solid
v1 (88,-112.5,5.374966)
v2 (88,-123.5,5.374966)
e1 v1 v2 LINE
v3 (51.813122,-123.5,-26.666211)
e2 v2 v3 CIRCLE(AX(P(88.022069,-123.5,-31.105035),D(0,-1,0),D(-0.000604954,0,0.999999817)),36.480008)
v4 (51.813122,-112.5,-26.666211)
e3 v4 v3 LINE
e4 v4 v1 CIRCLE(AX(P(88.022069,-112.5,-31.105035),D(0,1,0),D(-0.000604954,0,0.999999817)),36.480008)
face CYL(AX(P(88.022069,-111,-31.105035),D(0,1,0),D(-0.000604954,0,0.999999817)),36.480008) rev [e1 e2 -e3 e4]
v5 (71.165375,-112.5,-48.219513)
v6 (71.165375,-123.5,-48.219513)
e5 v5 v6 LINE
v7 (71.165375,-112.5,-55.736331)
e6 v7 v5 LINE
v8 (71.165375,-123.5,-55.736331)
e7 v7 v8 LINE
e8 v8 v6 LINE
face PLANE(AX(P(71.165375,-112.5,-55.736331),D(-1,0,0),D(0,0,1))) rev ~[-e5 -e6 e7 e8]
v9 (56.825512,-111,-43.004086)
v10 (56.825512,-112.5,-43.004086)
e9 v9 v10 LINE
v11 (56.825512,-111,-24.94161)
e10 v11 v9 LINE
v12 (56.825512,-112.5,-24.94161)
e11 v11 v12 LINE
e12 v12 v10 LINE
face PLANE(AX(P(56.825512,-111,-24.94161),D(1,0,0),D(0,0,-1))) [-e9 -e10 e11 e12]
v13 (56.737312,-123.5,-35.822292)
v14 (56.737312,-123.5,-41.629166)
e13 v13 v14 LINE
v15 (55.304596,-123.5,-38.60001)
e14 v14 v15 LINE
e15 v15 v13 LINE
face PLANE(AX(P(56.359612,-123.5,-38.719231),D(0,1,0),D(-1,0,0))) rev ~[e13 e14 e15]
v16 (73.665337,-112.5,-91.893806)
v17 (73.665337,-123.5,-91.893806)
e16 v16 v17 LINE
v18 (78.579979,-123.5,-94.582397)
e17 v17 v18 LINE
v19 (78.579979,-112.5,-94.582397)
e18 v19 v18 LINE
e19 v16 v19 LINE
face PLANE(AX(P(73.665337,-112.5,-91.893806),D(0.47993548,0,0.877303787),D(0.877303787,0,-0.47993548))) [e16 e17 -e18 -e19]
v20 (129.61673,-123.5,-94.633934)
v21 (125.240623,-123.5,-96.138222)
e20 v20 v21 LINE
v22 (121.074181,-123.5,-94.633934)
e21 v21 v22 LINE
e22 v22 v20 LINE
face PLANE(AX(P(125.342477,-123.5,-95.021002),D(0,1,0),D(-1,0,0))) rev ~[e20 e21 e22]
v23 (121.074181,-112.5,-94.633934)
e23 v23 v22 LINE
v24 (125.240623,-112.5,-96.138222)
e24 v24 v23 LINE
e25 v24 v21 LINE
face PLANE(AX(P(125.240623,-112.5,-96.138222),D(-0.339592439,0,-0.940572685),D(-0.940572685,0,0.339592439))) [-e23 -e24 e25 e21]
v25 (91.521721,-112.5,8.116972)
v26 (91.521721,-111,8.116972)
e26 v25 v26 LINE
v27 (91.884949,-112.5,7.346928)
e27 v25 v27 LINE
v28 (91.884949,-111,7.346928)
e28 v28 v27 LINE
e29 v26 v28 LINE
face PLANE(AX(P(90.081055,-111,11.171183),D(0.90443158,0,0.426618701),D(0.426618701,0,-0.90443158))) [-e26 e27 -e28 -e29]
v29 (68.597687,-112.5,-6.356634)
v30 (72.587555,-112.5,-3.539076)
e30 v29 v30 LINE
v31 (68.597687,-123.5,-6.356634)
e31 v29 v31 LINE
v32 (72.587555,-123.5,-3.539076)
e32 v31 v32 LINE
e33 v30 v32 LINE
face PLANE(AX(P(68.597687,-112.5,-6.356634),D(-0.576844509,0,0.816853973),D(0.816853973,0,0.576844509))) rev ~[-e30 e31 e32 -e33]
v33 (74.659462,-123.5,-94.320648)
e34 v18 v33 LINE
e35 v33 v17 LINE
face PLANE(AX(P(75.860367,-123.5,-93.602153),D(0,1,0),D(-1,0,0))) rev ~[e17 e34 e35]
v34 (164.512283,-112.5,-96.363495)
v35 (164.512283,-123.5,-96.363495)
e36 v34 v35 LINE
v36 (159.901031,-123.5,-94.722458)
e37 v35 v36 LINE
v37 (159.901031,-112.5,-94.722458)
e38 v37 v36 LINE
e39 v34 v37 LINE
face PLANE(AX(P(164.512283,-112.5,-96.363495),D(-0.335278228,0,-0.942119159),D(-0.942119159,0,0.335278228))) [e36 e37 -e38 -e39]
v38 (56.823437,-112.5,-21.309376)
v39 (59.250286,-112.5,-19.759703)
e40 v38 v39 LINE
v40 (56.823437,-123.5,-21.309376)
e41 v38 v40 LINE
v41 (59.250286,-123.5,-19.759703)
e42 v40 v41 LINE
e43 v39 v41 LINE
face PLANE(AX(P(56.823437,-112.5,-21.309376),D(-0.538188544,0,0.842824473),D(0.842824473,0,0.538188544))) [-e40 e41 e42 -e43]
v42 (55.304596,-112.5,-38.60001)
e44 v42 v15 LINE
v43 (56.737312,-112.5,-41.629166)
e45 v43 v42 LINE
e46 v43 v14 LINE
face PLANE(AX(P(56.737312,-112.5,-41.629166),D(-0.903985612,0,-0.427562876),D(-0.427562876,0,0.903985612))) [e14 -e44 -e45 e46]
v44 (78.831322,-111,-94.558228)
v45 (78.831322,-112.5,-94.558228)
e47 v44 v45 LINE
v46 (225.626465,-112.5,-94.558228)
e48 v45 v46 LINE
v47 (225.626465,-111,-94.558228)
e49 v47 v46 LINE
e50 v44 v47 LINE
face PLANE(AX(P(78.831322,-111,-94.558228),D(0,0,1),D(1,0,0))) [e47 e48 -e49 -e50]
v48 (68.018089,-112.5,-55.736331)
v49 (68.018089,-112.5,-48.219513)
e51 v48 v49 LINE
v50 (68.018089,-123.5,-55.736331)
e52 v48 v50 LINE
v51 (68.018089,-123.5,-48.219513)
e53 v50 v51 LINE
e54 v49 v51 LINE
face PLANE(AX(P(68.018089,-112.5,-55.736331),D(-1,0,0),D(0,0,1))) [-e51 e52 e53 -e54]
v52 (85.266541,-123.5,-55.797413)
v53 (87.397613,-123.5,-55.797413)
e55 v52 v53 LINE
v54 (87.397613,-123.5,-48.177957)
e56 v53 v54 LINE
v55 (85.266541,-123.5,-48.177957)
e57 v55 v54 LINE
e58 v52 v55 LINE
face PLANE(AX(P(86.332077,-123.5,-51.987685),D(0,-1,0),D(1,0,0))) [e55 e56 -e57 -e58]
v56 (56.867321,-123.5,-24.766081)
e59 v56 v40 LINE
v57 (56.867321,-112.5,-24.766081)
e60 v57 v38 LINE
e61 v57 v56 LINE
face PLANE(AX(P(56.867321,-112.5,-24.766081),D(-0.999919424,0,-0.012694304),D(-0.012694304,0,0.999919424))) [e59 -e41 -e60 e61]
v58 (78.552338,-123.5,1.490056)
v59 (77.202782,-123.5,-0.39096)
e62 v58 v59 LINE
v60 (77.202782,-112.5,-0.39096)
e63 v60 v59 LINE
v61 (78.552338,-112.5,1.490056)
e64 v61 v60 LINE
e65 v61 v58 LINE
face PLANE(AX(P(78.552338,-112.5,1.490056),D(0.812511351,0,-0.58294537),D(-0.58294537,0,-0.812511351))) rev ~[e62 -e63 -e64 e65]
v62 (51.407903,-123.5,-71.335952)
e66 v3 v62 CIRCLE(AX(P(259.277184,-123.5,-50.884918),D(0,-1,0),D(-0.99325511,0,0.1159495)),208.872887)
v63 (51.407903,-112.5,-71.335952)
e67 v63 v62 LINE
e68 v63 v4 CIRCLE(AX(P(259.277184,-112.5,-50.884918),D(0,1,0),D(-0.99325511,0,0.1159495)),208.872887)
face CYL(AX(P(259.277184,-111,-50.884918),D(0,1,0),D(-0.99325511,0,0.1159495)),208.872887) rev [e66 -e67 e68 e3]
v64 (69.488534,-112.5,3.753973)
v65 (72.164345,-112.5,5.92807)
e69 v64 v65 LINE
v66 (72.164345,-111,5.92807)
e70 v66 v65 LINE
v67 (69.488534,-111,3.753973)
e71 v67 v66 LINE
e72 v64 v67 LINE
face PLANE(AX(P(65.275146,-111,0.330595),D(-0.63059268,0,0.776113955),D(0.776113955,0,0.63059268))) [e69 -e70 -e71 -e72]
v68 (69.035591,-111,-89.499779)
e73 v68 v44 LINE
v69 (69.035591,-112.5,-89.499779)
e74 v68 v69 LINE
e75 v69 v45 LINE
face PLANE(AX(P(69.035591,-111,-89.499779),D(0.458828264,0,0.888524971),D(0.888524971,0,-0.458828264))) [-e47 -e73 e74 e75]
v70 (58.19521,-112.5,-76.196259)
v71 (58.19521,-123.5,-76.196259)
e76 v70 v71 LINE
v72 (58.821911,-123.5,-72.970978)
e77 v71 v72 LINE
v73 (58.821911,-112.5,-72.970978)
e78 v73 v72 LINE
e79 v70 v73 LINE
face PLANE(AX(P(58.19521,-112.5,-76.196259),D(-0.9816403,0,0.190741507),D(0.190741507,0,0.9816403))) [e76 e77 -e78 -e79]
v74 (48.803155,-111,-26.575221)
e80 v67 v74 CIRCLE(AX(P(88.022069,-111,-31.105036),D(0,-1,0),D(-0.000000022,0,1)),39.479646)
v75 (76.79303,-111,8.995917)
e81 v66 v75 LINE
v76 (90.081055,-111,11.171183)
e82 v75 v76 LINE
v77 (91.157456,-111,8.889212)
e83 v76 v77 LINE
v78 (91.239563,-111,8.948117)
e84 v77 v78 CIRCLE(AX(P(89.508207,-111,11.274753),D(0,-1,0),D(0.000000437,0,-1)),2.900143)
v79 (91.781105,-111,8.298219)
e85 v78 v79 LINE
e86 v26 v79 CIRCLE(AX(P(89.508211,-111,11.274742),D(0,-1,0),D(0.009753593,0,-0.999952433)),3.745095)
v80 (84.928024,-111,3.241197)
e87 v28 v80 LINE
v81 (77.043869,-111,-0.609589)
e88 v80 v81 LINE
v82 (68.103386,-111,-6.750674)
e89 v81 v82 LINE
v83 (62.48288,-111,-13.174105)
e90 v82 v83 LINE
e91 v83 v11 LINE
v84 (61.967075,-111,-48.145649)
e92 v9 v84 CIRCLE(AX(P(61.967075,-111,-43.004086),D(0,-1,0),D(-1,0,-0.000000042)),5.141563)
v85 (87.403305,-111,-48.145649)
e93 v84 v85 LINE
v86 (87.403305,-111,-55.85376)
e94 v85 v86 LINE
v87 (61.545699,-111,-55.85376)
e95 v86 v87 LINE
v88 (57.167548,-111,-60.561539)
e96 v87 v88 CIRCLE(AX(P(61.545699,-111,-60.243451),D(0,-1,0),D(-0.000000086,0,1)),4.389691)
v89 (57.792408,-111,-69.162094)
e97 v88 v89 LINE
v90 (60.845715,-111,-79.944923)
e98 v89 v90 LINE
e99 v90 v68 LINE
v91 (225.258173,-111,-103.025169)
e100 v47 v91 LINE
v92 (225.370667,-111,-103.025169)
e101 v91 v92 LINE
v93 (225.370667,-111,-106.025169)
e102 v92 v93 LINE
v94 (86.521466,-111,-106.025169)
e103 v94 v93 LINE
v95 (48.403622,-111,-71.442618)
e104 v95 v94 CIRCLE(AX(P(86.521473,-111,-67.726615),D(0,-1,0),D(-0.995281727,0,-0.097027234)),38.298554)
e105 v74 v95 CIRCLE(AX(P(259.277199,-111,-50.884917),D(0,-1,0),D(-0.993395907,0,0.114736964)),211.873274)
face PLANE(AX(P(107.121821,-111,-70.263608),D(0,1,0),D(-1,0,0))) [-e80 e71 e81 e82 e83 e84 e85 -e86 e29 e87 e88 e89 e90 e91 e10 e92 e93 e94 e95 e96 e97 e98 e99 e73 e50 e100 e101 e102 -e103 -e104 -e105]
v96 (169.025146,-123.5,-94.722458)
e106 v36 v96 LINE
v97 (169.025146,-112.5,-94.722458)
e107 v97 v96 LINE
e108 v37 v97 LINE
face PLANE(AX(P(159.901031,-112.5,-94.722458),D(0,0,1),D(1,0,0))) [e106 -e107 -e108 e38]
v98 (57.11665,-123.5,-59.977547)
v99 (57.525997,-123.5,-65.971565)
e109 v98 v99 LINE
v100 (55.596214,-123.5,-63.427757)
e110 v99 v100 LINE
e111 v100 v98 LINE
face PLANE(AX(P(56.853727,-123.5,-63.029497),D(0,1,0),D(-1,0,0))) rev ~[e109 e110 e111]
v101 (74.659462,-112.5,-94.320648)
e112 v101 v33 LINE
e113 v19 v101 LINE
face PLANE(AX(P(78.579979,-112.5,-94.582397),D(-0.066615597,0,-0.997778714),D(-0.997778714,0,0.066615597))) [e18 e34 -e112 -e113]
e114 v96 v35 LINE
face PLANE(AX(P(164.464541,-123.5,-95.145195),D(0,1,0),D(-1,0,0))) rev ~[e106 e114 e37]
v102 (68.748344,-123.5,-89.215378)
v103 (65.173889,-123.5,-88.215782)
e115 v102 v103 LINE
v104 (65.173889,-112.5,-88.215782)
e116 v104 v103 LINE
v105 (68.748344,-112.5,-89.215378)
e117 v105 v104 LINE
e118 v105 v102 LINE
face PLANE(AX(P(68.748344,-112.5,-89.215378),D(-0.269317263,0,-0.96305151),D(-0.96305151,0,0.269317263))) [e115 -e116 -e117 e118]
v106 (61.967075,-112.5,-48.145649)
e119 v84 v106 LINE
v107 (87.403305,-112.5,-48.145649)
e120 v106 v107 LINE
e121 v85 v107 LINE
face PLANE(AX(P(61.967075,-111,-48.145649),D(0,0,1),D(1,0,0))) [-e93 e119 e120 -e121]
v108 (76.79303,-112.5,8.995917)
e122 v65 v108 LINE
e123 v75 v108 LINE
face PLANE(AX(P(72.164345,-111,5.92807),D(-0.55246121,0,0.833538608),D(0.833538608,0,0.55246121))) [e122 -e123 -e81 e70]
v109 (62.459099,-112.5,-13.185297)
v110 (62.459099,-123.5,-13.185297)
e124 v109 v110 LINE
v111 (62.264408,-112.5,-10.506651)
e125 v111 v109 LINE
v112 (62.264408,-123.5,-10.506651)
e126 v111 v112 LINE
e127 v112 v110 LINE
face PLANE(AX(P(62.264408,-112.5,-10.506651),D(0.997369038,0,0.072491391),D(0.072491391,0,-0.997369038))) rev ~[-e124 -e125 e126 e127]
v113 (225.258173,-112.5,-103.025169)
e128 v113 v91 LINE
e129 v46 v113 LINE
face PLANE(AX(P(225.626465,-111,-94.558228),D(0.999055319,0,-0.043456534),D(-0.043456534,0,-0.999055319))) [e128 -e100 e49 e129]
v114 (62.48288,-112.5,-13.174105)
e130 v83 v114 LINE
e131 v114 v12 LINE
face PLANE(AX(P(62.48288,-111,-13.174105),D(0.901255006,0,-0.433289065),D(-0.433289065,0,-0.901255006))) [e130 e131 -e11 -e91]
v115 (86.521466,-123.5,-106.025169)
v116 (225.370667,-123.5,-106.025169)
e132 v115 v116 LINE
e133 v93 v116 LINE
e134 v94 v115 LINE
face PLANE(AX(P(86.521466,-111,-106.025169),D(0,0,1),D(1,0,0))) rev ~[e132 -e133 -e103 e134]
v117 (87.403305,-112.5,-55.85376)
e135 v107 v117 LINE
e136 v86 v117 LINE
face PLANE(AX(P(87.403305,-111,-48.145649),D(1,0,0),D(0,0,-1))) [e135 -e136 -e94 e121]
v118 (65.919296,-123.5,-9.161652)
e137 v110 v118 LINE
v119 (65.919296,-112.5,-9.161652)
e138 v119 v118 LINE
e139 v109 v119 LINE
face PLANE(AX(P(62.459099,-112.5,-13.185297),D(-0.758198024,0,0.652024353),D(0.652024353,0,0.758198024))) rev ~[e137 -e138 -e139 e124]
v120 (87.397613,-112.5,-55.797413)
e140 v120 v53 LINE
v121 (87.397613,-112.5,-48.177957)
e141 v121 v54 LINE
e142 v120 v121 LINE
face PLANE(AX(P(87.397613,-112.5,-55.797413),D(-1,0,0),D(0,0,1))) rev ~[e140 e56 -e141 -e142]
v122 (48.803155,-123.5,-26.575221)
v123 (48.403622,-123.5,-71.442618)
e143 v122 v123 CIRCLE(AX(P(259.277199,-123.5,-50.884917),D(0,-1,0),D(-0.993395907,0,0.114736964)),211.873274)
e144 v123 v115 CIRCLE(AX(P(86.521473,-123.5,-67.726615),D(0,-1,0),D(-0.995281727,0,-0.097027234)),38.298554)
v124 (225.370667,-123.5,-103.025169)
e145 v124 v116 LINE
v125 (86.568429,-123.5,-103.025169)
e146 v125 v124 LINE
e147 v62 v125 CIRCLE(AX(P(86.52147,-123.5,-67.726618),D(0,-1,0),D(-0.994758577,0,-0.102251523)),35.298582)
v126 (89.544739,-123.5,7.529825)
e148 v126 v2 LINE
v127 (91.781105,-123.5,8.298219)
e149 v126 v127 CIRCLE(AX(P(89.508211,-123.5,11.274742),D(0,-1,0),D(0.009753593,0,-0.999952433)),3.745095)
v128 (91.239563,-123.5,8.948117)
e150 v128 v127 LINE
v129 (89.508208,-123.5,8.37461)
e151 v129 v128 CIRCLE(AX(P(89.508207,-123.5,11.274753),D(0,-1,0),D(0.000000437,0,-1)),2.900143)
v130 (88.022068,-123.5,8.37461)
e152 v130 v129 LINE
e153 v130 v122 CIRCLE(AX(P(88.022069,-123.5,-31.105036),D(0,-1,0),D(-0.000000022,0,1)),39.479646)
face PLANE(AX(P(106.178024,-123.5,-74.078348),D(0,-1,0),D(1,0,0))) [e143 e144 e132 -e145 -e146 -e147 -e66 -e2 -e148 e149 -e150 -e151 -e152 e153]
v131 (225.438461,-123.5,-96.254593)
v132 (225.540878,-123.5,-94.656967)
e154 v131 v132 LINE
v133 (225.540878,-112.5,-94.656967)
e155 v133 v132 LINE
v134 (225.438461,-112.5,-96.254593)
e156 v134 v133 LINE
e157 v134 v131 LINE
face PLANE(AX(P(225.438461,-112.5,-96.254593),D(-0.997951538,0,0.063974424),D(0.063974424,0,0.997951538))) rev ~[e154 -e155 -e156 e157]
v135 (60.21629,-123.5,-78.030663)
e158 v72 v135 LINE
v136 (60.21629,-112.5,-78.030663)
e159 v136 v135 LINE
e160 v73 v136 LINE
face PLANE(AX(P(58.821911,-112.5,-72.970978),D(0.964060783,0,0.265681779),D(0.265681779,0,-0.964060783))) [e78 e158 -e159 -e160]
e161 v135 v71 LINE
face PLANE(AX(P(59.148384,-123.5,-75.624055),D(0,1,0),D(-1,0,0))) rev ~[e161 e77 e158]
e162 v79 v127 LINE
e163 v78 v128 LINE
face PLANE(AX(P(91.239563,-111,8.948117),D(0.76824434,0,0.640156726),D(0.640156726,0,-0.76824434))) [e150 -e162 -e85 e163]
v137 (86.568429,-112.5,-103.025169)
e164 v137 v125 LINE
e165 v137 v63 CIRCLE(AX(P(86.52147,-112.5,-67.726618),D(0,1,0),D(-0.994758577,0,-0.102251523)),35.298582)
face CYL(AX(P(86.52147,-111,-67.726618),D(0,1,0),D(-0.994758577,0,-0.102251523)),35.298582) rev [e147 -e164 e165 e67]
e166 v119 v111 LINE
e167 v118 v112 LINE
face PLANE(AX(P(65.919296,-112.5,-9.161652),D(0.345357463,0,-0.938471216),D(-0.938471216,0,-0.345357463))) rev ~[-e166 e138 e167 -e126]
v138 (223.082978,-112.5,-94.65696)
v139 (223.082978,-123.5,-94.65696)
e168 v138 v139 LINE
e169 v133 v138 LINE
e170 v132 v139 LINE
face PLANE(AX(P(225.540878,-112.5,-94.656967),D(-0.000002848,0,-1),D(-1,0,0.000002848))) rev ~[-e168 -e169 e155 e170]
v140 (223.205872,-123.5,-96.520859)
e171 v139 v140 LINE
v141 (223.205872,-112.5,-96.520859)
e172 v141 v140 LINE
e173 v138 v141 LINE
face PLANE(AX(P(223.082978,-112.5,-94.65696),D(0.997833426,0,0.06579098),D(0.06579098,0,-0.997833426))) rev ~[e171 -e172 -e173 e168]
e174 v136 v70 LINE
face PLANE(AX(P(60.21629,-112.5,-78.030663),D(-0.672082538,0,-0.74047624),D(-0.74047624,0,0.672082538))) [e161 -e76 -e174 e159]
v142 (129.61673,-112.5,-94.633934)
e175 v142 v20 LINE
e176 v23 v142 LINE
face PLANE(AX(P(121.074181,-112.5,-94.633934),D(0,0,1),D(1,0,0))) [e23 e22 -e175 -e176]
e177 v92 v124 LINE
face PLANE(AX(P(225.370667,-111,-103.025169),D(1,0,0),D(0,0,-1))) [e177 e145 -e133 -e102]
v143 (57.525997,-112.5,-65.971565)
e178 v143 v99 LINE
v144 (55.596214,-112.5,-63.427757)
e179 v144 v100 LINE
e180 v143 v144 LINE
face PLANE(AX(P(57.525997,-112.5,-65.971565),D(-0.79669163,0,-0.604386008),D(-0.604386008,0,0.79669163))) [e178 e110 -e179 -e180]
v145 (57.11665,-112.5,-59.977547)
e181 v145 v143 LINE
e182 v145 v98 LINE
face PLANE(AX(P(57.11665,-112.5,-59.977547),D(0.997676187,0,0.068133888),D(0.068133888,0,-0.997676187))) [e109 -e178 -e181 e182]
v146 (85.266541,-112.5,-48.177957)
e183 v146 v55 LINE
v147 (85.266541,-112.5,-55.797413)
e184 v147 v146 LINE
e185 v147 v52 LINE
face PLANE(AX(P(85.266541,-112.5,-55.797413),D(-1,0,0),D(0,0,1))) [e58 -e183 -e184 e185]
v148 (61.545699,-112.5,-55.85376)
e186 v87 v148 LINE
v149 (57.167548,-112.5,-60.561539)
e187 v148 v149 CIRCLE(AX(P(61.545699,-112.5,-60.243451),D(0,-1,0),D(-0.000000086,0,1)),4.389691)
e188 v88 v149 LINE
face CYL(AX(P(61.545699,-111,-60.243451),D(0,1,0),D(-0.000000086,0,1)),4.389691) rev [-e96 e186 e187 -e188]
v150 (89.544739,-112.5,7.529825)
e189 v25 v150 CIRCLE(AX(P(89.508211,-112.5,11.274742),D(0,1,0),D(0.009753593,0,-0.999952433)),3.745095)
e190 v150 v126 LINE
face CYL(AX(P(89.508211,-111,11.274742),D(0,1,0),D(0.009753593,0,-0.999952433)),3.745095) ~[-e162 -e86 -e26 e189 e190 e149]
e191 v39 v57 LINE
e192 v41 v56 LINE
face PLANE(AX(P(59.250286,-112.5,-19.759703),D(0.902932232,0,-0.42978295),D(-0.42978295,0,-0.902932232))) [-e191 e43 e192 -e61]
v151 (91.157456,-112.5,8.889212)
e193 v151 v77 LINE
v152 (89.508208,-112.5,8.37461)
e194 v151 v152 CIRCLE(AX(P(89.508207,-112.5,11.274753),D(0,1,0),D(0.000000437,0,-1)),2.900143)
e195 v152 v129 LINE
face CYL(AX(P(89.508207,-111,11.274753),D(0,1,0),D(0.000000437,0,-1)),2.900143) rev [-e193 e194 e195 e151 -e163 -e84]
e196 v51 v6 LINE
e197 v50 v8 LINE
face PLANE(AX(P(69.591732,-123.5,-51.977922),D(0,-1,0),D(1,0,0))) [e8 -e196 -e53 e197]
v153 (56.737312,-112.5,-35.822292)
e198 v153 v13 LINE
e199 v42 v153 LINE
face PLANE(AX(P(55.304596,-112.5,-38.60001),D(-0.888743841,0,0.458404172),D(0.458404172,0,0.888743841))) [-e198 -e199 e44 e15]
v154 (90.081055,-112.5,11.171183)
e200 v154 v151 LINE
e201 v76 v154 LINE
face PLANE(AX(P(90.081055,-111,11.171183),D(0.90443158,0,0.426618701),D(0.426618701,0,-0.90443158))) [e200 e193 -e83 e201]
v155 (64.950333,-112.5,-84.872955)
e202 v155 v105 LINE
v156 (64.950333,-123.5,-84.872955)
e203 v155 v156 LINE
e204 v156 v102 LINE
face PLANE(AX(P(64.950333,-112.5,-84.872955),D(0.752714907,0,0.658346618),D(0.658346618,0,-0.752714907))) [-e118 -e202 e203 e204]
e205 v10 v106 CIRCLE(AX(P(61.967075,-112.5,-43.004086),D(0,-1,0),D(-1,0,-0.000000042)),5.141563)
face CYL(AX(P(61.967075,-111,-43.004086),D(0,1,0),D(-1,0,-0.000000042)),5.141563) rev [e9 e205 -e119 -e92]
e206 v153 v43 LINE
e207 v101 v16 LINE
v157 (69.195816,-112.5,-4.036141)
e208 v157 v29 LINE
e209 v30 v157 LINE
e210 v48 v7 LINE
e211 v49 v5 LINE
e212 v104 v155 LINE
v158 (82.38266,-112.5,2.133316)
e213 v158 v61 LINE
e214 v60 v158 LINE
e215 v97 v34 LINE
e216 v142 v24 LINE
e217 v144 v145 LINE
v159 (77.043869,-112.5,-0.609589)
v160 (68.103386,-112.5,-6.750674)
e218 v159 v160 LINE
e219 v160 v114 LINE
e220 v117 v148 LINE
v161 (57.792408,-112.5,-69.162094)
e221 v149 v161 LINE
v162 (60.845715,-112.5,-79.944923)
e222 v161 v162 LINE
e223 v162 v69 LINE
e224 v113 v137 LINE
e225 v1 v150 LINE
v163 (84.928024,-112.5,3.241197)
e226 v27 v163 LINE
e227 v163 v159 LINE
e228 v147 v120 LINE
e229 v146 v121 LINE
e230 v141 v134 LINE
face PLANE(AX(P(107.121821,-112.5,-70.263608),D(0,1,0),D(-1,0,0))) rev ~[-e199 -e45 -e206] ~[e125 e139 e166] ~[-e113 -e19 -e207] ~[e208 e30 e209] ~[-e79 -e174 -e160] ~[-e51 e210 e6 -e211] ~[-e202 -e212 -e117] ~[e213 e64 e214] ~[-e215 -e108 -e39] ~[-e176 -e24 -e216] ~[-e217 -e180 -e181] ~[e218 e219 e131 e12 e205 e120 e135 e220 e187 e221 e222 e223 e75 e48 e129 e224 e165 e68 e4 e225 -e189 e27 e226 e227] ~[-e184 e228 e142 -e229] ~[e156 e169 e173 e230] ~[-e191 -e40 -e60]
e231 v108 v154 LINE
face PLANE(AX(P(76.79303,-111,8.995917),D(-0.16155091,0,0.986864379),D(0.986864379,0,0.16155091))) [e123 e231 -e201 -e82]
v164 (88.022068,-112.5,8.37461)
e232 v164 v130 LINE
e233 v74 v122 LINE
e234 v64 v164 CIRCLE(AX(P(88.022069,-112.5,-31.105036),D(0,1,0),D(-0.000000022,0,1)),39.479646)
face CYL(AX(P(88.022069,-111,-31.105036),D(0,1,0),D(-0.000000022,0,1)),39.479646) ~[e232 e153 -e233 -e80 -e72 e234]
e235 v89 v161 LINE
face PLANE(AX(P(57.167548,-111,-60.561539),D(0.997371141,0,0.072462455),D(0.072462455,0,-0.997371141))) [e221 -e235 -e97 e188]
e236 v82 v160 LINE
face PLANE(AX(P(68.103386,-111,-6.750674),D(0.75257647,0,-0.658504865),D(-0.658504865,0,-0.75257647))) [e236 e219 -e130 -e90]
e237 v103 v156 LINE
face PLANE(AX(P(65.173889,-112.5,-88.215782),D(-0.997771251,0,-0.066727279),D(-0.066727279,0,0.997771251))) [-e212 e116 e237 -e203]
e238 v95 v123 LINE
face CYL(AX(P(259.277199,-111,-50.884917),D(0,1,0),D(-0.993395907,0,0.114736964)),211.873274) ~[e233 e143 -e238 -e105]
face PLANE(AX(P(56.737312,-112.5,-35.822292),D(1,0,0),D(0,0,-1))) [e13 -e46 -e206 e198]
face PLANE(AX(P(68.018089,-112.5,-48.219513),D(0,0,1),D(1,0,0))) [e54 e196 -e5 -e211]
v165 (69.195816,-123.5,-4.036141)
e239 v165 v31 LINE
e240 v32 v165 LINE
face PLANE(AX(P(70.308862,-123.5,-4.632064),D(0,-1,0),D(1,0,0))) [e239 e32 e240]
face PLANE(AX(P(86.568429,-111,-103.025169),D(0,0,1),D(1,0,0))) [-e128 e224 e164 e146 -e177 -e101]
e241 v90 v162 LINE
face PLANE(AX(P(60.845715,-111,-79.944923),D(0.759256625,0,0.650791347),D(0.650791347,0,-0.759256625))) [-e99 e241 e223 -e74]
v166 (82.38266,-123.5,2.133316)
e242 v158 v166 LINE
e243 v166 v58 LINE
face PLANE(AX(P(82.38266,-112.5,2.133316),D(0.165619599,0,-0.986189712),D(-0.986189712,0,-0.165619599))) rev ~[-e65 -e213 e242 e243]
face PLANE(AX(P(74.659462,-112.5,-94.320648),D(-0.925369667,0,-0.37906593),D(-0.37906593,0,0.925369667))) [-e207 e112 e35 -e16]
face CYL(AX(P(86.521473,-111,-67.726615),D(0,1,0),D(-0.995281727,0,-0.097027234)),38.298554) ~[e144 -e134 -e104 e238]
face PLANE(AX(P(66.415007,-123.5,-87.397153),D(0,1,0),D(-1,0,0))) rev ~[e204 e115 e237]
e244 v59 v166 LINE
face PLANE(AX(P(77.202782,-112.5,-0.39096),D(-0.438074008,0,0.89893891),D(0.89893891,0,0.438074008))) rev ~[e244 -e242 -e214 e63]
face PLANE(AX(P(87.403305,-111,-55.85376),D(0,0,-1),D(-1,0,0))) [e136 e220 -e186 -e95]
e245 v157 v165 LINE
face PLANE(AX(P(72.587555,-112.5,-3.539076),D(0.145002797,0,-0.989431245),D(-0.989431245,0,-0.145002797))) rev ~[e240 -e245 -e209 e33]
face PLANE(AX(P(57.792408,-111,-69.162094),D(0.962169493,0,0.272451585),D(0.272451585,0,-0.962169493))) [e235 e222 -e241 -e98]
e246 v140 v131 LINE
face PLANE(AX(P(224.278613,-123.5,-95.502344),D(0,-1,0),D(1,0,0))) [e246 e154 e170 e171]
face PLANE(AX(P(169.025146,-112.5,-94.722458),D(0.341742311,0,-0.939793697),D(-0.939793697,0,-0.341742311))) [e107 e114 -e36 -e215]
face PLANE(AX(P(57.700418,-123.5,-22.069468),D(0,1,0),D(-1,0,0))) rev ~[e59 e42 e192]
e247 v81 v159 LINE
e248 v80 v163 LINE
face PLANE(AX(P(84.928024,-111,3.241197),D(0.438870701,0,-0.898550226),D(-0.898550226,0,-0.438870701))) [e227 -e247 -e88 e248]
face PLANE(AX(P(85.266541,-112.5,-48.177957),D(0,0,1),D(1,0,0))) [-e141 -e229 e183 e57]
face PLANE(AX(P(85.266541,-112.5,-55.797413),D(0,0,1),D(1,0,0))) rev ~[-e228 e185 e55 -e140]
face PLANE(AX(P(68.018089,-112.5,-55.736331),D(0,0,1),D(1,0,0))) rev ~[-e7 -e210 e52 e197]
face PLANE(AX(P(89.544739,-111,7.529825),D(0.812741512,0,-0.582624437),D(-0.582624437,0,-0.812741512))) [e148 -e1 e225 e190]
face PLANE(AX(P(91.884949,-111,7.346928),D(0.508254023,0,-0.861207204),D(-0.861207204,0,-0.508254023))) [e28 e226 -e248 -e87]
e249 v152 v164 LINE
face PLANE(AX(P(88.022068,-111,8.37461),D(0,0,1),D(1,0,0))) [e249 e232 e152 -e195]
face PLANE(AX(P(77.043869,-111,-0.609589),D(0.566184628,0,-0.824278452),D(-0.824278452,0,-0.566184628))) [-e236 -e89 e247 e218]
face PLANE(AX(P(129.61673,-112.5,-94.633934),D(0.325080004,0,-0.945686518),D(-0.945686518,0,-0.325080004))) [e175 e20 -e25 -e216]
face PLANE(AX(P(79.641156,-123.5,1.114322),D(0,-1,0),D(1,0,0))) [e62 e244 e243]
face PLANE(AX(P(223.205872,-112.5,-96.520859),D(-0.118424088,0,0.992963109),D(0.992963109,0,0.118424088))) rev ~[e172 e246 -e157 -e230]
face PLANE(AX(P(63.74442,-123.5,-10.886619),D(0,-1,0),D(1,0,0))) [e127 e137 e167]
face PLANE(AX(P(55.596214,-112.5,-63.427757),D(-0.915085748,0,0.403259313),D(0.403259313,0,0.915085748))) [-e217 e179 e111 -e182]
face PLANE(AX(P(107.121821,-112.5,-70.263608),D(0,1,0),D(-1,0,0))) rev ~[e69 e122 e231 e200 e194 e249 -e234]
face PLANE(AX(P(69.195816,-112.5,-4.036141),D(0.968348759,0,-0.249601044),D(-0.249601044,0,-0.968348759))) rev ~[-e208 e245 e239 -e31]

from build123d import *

# Parameters (mm, degrees)
PAD356_DEPTH  = 12.5
PAD357_DEPTH  = 1.5
SKETCH835_W   = 2.131072
SKETCH835_H   = 7.619457
SKETCH835_W_2 = 3.147286
SKETCH835_H_2 = 7.516819
PAD359_DEPTH  = 11


with BuildPart() as part:
    # Sketch830 → Pad356 (new body)
    with BuildSketch(Plane.XZ):
        with BuildLine():
            Line((-1.478534, -110.025169), (137.370667, -110.025169))
            Line((137.370667, -107.025169), (137.370667, -110.025169))
            Line((-1.431571, -107.025169), (137.370667, -107.025169))
            ThreePointArc((-36.592097, -75.335952), (-25.110465, -97.94725), (-1.431571, -107.025169))
            ThreePointArc((-36.186878, -30.666211), (-37.587109, -52.990217), (-36.592097, -75.335952))
            ThreePointArc((0, 1.374966), (-24.161208, -7.792765), (-36.186878, -30.666211))
            Line((1.544739, 3.529825), (0, 1.374966))
            ThreePointArc((1.544739, 3.529825), (2.72516, 3.732882), (3.781105, 4.298219))
            Line((3.239563, 4.948117), (3.781105, 4.298219))
            ThreePointArc((1.508208, 4.37461), (2.420143, 4.521718), (3.239563, 4.948117))
            Line((0.022068, 4.37461), (1.508208, 4.37461))
            ThreePointArc((0.022068, 4.37461), (-26.243945, -5.630658), (-39.196845, -30.575221))
            ThreePointArc((-39.196845, -30.575221), (-40.587676, -52.998313), (-39.596378, -75.442618))
            ThreePointArc((-39.596378, -75.442618), (-27.212376, -100.091175), (-1.478534, -110.025169))
        make_face()
    extrude(amount=PAD356_DEPTH)

    # Sketch831 → Pad357 (join)
    with BuildSketch(Plane.XZ):
        with BuildLine():
            Line((-11.20697, 4.995917), (2.081055, 7.171183))
            Line((2.081055, 7.171183), (3.884949, 3.346928))
            Line((3.884949, 3.346928), (-3.071976, -0.758803))
            Line((-3.071976, -0.758803), (-10.956131, -4.609589))
            Line((-10.956131, -4.609589), (-19.896614, -10.750674))
            Line((-19.896614, -10.750674), (-25.51712, -17.174105))
            Line((-25.51712, -17.174105), (-31.174488, -28.94161))
            Line((-31.174488, -28.94161), (-31.174488, -40.845127))
            Line((-31.174488, -40.845127), (-31.174488, -47.004086))
            ThreePointArc((-31.174488, -47.004086), (-29.668559, -50.63972), (-26.032925, -52.145649))
            Line((-26.032925, -52.145649), (-0.596695, -52.145649))
            Line((-0.596695, -52.145649), (-0.596695, -59.85376))
            Line((-0.596695, -59.85376), (-26.454301, -59.85376))
            ThreePointArc((-26.454301, -59.85376), (-29.668775, -61.254046), (-30.832452, -64.561539))
            Line((-30.832452, -64.561539), (-30.207592, -73.162094))
            Line((-30.207592, -73.162094), (-27.154285, -83.944923))
            Line((-27.154285, -83.944923), (-18.964409, -93.499779))
            Line((-18.964409, -93.499779), (-9.168678, -98.558228))
            Line((-9.168678, -98.558228), (-2.331345, -98.558228))
            Line((-2.331345, -98.558228), (137.626465, -98.558228))
            Line((137.626465, -98.558228), (137.14772, -109.564461))
            Line((137.14772, -109.564461), (2.745987, -109.564461))
            Line((2.745987, -109.564461), (-3.35627, -109.564461))
            Line((-3.35627, -109.564461), (-8.527748, -108.903885))
            Line((-8.527748, -108.903885), (-14.660988, -106.811363))
            Line((-14.660988, -106.811363), (-18.737785, -105.296097))
            Line((-18.737785, -105.296097), (-23.031059, -102.842796))
            Line((-23.031059, -102.842796), (-25.966358, -100.308403))
            Line((-25.966358, -100.308403), (-29.71846, -96.772774))
            Line((-29.71846, -96.772774), (-33.867416, -91.108543))
            Line((-33.867416, -91.108543), (-35.409092, -87.704582))
            Line((-35.409092, -87.704582), (-37.577, -82.887016))
            Line((-37.577, -82.887016), (-39.02227, -76.142418))
            Line((-39.02227, -76.142418), (-39.504028, -68.916061))
            Line((-39.504028, -68.916061), (-39.795753, -62.945045))
            Line((-39.795753, -62.945045), (-39.795753, -54.118259))
            Line((-39.795753, -54.118259), (-39.795753, -44.679527))
            Line((-39.795753, -44.679527), (-38.558964, -32.354319))
            Line((-38.558964, -32.354319), (-38.395519, -29.4237))
            Line((-38.395519, -29.4237), (-36.619396, -22.319212))
            Line((-36.619396, -22.319212), (-33.174793, -14.730327))
            Line((-33.174793, -14.730327), (-28.806725, -8.890129))
            Line((-28.806725, -8.890129), (-22.724854, -3.669405))
            Line((-22.724854, -3.669405), (-15.835655, 1.92807))
            Line((-15.835655, 1.92807), (-11.20697, 4.995917))
        make_face()
    extrude(amount=PAD357_DEPTH)

    # Sketch835 → Pad359 (join)
    with BuildSketch(Plane.XZ.offset(1.5)):
        Polygon((-10.797218, -4.39096), (-5.61734, -1.866684), (-9.447662, -2.509944), align=None)
        Polygon((-19.402313, -10.356634), (-15.412445, -7.539076), (-18.804184, -8.036141), align=None)
        Polygon((-25.540901, -17.185297), (-22.080704, -13.161652), (-25.735592, -14.506651), align=None)
        Polygon((-28.749714, -23.759703), (-31.132679, -28.766081), (-31.176563, -25.309376), align=None)
        Polygon((-31.262688, -39.822292), (-31.262688, -45.629166), (-32.695404, -42.60001), align=None)
        with Locations((-1.667923, -55.987685)):
            Rectangle(SKETCH835_W, SKETCH835_H)
        with Locations((-18.408268, -55.977922)):
            Rectangle(SKETCH835_W_2, SKETCH835_H_2)
        Polygon((-30.88335, -63.977547), (-30.474003, -69.971565), (-32.403786, -67.427757), align=None)
        Polygon((-29.178089, -76.970978), (-27.78371, -82.030663), (-29.80479, -80.196259), align=None)
        Polygon((-23.049667, -88.872955), (-19.251656, -93.215378), (-22.826111, -92.215782), align=None)
        Polygon((-14.334663, -95.893806), (-9.420021, -98.582397), (-13.340538, -98.320648), align=None)
        Polygon((33.074181, -98.633934), (41.61673, -98.633934), (37.240623, -100.138222), align=None)
        Polygon((71.901031, -98.722458), (81.025146, -98.722458), (76.512283, -100.363495), align=None)
        Polygon((135.082978, -98.65696), (135.205872, -100.520859), (137.438461, -100.254593), (137.540878, -98.656967), align=None)
    extrude(amount=PAD359_DEPTH)


with BuildPart() as part_1:
    # Body024 placement: moved
    add(part.part.moved(Location((88, -111, 4))))


solid = part_1.part
